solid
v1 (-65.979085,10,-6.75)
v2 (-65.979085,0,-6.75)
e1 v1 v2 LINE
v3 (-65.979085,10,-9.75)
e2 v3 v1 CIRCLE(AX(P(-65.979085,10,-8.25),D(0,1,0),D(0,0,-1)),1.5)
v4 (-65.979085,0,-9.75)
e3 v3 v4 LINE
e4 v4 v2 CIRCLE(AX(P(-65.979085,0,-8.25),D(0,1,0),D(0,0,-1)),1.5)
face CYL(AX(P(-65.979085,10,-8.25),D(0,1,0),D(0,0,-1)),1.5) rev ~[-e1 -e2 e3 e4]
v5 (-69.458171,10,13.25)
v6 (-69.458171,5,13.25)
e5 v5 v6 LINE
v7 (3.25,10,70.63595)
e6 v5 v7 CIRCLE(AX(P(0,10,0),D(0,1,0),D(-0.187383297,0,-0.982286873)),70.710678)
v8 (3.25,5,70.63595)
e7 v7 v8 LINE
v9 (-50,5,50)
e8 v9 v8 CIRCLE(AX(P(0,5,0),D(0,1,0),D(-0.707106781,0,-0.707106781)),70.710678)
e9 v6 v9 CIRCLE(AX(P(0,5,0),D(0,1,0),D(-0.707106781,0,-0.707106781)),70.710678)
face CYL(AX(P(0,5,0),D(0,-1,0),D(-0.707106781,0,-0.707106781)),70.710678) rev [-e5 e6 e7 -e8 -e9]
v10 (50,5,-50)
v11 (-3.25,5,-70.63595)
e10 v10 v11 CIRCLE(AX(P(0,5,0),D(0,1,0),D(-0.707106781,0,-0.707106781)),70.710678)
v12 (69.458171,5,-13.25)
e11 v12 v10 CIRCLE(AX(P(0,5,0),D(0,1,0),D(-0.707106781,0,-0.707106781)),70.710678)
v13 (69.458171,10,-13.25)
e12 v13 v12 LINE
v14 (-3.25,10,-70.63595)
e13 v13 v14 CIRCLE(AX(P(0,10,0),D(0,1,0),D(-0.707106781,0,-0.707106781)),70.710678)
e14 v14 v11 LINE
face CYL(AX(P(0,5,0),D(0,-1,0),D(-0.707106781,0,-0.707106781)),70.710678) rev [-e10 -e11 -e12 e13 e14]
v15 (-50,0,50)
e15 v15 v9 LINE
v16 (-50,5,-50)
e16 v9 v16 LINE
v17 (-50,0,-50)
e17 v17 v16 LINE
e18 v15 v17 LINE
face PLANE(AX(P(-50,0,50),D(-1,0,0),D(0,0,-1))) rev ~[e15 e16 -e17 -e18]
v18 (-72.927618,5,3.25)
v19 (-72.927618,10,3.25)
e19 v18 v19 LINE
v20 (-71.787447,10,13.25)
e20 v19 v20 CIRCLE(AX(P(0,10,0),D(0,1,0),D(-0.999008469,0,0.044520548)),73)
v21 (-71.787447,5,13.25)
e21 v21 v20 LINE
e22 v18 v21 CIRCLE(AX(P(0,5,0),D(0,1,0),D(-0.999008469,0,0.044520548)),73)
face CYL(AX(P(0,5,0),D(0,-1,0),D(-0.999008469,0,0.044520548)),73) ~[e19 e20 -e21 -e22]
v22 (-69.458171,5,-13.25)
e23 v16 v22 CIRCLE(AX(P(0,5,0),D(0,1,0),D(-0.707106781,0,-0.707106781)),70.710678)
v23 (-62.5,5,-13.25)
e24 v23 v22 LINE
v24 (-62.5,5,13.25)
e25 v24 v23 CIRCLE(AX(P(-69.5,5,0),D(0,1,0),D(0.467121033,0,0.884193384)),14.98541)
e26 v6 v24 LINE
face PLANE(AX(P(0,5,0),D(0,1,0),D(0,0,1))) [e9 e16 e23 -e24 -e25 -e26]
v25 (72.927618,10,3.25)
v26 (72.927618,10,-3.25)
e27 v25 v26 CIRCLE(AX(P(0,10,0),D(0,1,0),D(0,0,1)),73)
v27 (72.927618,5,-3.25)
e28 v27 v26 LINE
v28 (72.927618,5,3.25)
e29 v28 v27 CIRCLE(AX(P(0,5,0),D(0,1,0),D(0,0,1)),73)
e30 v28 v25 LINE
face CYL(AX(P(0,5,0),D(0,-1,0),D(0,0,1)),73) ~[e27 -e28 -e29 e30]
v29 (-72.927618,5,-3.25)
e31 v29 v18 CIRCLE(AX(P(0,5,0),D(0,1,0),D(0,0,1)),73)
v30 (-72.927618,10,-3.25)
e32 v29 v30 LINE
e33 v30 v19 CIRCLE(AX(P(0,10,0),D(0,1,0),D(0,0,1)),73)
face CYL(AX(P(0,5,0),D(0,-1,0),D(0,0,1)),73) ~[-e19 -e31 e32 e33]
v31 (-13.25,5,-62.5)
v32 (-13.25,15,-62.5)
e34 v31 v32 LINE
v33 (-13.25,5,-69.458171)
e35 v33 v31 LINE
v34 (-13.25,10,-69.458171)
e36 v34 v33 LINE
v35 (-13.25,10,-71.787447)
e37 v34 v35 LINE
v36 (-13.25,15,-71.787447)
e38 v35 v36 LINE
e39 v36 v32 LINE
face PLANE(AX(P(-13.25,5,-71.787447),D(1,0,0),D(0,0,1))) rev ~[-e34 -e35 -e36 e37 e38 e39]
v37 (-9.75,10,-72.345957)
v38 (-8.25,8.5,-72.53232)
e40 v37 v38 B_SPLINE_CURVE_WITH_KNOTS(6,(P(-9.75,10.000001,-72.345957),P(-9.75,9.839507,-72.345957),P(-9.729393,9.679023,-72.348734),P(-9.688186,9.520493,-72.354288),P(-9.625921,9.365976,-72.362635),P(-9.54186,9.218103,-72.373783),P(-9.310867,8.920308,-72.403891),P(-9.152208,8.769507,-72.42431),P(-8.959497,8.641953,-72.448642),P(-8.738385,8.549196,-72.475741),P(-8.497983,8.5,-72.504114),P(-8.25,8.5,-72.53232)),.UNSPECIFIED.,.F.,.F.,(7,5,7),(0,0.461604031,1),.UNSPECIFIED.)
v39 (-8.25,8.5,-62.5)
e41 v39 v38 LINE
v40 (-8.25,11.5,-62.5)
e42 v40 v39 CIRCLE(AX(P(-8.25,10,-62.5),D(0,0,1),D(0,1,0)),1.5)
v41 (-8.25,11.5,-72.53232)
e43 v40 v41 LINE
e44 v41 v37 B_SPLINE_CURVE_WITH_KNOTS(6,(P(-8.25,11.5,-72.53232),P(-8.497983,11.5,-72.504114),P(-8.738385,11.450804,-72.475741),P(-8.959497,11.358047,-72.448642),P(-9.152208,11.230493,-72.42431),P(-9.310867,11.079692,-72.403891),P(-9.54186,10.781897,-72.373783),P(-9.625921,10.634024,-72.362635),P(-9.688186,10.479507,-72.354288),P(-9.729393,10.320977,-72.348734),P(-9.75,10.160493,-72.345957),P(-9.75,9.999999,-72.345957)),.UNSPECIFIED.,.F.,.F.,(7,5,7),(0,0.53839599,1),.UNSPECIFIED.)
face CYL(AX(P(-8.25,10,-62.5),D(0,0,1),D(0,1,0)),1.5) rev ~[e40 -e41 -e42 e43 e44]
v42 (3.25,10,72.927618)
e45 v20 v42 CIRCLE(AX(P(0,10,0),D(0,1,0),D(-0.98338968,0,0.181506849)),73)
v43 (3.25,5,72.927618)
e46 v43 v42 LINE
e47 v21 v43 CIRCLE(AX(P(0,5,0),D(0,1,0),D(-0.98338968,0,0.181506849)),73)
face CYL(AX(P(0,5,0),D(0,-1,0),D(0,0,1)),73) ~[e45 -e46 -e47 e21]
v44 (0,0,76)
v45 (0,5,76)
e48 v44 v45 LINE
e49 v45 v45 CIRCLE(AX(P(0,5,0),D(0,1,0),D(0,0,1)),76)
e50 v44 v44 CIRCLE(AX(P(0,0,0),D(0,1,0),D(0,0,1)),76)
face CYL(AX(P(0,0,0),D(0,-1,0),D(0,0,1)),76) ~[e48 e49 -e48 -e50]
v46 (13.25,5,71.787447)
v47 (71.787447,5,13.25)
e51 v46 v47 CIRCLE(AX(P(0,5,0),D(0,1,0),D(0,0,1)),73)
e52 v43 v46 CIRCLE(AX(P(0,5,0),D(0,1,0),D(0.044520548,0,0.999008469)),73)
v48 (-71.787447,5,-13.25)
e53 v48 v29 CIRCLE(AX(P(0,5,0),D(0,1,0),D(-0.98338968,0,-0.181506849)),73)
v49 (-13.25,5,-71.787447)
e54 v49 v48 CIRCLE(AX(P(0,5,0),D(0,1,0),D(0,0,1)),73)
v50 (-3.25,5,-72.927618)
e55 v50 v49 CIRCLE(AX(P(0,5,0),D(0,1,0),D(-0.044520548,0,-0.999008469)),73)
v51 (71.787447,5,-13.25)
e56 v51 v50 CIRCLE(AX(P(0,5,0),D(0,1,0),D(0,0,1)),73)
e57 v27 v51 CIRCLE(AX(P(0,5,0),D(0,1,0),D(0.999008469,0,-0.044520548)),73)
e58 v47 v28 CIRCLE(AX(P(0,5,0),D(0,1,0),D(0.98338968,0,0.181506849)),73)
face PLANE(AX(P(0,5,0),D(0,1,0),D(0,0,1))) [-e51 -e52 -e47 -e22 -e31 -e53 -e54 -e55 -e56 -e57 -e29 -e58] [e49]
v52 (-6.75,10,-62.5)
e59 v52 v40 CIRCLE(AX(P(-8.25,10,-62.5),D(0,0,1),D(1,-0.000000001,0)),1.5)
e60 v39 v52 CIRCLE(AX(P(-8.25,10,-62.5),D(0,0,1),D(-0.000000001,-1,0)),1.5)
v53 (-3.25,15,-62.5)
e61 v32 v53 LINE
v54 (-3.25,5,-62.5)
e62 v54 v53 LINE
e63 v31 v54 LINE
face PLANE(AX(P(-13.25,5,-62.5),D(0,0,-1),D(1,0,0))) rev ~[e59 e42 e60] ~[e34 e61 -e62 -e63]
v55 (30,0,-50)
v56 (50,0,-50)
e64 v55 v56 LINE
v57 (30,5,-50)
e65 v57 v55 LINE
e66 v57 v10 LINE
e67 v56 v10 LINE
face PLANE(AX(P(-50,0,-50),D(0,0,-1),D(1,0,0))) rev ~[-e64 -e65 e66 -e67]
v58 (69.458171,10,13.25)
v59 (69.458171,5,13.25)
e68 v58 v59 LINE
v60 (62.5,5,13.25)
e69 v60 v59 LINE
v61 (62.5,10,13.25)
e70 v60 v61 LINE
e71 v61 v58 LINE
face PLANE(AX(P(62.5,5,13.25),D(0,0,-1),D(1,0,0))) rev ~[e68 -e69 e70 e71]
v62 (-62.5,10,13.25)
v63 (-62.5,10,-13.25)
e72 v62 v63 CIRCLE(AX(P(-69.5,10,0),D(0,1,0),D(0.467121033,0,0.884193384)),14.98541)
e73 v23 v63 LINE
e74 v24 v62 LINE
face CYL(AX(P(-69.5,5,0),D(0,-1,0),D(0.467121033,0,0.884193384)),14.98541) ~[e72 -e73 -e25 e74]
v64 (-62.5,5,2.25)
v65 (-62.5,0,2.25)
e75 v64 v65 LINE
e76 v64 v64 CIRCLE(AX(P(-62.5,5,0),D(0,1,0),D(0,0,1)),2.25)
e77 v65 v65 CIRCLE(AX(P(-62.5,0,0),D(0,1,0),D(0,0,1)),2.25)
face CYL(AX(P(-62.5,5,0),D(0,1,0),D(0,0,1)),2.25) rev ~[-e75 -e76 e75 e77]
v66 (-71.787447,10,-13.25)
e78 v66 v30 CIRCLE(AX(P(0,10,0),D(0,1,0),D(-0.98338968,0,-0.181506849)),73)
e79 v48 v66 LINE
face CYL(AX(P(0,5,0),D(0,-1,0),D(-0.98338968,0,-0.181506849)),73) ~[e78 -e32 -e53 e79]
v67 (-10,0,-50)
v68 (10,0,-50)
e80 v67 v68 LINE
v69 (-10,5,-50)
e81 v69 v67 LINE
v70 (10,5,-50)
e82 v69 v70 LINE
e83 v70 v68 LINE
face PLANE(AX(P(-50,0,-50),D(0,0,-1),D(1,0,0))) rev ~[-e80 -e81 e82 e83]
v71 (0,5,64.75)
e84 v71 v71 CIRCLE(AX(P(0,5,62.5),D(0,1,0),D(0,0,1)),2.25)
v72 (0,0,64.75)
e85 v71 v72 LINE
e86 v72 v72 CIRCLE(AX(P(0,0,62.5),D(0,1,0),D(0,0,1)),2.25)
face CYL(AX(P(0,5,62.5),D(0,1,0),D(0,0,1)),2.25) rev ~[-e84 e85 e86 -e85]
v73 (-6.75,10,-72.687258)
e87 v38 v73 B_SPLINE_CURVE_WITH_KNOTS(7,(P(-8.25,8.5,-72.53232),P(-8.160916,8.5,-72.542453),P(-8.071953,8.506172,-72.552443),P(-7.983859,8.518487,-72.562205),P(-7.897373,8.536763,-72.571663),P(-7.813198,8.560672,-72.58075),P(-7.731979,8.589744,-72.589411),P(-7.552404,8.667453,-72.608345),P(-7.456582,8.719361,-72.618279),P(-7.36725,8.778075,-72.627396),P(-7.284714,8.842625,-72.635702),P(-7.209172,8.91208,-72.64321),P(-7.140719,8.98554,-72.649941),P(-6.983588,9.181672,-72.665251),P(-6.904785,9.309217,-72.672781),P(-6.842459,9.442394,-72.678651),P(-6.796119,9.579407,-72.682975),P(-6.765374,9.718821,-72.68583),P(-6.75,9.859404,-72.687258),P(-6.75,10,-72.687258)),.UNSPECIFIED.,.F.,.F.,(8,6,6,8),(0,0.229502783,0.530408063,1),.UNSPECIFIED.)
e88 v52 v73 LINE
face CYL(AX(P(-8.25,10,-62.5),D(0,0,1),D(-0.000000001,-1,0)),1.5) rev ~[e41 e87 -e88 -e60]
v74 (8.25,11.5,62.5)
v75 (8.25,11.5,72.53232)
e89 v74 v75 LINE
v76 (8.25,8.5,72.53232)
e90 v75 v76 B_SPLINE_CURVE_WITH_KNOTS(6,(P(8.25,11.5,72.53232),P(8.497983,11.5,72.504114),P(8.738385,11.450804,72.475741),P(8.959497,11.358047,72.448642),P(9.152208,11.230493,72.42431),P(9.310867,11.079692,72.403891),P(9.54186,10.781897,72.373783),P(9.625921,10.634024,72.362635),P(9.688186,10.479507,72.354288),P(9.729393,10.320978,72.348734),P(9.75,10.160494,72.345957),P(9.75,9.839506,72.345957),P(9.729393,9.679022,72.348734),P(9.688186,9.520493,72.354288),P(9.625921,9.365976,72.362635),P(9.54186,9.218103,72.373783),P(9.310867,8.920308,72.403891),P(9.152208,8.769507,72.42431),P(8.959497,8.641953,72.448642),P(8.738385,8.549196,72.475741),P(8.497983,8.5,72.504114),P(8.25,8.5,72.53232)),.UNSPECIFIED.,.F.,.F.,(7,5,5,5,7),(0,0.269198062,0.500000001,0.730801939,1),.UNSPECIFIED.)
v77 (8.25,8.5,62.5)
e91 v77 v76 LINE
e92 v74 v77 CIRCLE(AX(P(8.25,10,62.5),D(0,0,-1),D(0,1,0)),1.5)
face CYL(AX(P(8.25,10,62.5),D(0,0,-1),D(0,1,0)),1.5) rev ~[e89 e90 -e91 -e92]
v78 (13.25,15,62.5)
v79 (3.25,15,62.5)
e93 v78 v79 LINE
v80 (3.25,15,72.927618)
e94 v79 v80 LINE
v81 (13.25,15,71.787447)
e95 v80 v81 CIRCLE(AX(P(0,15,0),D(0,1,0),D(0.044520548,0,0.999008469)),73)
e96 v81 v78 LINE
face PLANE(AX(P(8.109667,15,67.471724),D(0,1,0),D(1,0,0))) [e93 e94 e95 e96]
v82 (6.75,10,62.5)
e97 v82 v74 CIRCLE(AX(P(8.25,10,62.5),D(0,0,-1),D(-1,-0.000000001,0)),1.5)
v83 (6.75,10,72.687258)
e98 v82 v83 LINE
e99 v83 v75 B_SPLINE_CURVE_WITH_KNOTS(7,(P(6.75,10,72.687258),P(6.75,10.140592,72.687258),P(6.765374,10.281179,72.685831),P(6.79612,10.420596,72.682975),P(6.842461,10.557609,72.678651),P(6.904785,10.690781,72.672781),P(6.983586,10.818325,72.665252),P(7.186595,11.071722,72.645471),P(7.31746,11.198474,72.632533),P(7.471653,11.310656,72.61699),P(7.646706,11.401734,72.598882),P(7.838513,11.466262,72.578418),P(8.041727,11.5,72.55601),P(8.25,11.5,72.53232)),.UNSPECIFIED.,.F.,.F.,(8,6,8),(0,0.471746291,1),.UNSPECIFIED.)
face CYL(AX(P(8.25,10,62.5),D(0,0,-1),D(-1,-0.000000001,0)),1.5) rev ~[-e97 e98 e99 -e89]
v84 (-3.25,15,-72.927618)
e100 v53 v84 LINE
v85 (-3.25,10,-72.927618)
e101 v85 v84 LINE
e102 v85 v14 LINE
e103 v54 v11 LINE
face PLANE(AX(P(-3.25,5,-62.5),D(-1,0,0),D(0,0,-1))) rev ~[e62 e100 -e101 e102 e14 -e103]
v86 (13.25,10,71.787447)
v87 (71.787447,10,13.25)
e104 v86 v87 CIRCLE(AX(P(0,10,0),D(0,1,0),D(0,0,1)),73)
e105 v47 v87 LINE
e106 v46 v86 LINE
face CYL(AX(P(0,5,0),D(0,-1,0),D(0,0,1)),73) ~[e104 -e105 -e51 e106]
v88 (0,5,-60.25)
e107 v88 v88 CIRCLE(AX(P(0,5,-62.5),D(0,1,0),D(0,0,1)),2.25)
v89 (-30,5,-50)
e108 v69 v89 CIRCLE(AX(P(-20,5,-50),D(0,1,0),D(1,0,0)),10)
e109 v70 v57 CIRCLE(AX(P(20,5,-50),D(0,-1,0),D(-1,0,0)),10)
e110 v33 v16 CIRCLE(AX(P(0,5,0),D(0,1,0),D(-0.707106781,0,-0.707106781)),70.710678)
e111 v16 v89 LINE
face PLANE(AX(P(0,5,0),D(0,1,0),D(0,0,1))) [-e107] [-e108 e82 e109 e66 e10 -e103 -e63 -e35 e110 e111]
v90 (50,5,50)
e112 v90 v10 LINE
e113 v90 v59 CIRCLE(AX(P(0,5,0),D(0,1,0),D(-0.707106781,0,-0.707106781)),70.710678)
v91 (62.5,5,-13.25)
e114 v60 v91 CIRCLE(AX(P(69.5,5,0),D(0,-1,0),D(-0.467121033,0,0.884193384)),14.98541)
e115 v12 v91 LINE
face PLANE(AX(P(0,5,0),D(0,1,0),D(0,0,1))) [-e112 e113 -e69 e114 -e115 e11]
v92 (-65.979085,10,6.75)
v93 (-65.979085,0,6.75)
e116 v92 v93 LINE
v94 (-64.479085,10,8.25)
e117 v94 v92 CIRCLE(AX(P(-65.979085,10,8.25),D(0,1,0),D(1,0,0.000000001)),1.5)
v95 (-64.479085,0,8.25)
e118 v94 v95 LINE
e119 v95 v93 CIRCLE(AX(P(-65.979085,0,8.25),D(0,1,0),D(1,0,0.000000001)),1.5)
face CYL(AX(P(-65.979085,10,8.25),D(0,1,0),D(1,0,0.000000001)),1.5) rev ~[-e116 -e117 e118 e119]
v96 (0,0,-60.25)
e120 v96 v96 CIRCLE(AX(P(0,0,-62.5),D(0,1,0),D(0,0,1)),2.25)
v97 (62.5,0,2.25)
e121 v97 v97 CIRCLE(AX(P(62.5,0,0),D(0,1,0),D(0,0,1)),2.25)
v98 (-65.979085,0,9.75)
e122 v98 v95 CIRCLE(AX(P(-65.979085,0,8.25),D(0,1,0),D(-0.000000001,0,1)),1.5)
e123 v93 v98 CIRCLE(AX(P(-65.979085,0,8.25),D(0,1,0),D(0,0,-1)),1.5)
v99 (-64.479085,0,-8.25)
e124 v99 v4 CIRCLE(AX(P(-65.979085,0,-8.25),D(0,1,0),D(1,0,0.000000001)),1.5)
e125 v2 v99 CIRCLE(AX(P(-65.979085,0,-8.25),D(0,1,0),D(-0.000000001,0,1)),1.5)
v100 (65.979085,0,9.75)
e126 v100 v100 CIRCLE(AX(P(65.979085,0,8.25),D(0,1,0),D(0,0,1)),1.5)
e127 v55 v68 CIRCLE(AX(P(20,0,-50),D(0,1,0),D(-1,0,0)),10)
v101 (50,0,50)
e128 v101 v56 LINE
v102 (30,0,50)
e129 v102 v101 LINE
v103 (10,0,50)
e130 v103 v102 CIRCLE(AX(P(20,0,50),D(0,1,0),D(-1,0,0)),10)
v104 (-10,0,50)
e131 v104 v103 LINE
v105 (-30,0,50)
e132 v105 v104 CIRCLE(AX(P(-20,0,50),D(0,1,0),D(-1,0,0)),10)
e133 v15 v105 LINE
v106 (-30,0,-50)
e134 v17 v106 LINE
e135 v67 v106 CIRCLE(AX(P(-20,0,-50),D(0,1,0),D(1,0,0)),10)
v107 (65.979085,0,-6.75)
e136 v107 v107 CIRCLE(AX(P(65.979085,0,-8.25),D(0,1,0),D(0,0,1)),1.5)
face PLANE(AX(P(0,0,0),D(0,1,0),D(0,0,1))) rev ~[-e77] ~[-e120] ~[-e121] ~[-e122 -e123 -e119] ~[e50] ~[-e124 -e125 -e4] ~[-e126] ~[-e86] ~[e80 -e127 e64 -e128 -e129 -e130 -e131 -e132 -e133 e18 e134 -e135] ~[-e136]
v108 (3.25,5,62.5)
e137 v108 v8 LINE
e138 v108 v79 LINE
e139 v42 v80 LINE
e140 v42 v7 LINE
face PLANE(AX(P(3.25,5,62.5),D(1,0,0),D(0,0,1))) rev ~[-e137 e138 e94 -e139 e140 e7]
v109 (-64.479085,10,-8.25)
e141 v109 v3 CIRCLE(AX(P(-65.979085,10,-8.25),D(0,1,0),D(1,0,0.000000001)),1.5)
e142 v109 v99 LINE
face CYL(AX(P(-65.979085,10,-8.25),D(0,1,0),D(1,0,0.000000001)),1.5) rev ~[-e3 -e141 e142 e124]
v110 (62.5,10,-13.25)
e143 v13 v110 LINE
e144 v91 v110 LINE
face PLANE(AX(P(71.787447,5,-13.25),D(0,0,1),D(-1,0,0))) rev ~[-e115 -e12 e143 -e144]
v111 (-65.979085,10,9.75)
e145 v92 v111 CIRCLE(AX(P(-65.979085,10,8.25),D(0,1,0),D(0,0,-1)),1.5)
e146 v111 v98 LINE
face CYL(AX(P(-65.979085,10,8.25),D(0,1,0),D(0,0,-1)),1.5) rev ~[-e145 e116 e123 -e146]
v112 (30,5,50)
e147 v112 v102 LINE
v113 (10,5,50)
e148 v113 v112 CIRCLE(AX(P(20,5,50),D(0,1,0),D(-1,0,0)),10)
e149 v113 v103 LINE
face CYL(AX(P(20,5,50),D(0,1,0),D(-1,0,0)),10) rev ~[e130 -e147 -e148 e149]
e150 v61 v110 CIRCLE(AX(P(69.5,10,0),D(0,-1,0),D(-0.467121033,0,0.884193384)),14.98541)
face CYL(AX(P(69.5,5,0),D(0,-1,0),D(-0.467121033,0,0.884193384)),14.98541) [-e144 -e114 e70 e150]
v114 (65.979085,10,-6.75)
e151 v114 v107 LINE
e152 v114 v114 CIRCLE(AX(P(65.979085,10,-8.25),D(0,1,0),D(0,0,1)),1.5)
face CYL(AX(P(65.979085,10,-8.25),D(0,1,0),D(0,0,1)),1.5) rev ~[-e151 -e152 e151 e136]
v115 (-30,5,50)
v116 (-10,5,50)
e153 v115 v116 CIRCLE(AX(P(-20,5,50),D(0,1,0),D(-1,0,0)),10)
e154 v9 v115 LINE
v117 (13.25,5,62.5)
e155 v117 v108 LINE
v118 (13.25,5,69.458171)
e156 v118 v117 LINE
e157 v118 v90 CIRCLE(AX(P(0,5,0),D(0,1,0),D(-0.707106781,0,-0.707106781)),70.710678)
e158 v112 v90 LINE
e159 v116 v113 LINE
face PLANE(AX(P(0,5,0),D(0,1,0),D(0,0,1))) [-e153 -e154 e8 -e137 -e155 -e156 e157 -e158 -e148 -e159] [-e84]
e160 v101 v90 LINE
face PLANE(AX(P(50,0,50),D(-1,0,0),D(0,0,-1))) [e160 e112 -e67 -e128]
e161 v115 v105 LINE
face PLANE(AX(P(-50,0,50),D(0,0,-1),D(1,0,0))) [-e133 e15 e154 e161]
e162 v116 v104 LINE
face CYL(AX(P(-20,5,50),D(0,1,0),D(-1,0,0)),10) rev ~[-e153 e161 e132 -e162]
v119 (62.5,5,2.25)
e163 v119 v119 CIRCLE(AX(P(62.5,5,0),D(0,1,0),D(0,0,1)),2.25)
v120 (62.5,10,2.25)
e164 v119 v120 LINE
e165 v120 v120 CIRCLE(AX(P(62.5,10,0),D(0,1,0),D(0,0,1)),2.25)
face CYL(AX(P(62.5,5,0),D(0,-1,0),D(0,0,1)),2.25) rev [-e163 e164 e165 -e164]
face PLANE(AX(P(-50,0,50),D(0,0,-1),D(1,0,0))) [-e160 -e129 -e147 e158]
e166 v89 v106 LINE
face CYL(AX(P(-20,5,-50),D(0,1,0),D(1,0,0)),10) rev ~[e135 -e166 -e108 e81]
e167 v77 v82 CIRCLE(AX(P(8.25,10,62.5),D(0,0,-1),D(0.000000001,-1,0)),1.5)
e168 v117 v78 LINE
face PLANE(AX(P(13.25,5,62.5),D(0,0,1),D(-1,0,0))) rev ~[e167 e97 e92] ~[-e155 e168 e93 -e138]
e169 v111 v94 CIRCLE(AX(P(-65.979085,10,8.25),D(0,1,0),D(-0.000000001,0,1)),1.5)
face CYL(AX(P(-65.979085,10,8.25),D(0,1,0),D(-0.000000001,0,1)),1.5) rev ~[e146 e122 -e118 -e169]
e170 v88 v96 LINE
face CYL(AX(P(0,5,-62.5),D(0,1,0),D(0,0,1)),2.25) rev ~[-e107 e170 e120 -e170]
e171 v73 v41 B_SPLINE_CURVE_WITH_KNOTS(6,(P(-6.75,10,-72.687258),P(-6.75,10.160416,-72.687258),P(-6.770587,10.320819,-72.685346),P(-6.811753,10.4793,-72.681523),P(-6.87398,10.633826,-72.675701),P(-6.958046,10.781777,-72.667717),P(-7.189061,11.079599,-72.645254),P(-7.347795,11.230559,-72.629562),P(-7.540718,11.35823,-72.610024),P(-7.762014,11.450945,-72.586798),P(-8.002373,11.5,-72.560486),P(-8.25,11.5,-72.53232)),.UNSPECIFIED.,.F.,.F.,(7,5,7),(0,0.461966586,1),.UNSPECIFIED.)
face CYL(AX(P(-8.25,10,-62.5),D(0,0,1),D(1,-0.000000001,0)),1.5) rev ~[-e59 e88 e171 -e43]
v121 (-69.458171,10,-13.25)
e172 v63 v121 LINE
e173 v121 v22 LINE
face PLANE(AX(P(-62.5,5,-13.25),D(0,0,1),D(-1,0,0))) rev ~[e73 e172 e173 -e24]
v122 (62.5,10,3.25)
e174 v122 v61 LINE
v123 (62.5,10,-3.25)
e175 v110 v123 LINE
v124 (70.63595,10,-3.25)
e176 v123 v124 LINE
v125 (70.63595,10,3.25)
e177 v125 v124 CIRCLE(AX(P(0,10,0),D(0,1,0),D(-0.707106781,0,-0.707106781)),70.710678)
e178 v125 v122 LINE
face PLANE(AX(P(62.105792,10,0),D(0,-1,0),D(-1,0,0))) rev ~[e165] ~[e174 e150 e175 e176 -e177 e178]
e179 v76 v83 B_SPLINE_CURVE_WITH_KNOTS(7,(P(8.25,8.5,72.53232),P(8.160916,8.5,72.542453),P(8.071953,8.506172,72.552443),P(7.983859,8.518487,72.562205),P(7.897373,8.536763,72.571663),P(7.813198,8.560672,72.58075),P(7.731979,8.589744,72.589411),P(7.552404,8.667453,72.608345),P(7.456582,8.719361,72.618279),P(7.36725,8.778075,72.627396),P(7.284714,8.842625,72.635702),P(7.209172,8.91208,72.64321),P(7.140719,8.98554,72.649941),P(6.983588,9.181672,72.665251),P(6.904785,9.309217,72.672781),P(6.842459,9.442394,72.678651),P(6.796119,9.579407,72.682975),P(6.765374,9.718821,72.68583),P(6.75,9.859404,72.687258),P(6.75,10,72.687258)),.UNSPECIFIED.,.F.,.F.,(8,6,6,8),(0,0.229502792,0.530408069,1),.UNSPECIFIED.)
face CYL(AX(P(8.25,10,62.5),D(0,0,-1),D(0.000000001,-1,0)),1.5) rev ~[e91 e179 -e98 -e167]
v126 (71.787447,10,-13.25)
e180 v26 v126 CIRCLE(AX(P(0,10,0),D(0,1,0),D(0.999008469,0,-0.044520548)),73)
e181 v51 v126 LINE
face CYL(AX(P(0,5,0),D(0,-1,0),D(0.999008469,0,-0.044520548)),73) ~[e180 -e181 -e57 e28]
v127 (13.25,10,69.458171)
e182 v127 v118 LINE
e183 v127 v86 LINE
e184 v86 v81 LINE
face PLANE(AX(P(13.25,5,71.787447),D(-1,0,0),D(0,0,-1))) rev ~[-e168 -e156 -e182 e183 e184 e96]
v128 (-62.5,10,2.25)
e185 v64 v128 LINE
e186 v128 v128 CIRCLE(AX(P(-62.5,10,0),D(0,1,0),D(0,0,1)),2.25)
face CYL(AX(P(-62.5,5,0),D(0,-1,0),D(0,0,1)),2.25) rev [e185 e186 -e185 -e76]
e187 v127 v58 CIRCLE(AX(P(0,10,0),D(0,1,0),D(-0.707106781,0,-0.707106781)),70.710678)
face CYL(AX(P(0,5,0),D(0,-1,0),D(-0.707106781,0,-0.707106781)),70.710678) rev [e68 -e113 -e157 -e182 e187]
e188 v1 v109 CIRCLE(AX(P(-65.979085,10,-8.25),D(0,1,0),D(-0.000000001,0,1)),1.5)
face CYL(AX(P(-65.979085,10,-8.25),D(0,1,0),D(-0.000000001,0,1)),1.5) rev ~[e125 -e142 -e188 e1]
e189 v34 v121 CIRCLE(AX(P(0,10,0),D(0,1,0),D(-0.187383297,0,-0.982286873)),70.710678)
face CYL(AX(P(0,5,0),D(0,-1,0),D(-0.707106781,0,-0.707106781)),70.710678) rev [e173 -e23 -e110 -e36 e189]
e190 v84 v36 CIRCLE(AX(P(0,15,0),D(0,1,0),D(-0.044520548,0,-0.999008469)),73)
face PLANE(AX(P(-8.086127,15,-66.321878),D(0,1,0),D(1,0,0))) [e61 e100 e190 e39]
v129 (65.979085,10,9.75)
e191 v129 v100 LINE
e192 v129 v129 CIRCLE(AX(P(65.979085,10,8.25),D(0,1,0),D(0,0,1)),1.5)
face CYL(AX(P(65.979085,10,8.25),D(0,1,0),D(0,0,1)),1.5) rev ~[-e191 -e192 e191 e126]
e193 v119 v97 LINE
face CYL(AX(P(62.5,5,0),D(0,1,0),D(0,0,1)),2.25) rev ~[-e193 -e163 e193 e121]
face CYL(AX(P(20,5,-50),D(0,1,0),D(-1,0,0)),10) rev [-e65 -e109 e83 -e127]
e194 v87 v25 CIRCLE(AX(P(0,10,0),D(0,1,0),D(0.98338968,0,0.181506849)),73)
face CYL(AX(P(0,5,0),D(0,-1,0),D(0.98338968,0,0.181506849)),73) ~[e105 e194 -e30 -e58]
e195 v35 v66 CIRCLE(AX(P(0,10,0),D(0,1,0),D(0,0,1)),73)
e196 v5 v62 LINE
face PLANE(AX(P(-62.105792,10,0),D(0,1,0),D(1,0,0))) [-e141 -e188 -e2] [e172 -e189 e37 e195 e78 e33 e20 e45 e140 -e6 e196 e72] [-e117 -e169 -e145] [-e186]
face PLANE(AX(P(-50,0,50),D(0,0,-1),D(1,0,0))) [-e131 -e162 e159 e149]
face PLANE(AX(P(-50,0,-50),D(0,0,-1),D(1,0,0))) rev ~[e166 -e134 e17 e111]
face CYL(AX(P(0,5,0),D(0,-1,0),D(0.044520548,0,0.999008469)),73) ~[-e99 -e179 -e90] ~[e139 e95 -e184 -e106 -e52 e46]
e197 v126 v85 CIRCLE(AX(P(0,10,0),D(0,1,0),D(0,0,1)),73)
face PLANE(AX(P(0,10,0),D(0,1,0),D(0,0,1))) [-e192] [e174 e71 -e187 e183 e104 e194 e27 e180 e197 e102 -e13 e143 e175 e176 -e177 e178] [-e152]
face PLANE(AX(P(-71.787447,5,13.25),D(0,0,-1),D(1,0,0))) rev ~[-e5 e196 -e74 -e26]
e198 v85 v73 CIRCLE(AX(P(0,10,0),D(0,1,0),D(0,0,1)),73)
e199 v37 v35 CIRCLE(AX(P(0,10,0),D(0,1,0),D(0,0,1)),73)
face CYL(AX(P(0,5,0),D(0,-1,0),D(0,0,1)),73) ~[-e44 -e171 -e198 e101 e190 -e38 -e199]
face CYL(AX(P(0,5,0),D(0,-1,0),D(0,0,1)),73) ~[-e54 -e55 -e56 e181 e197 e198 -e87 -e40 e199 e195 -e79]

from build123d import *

# Parameters (mm, degrees)
SKETCH1_R           = 76
SKETCH1_W           = 100
SKETCH1_H           = 100
BOSS_EXTRUDE1_DEPTH = 5
SKETCH2_R           = 2.25
CUT_EXTRUDE1_DEPTH  = 10
SKETCH5_R           = 73
SKETCH5_R_2         = 70.710678119
BOSS_EXTRUDE3_DEPTH = 5
BOSS_EXTRUDE6_DEPTH = 10
CUT_EXTRUDE4_DEPTH  = 30
CUT_EXTRUDE5_DEPTH  = 70
BOSS_EXTRUDE7_DEPTH = 5
SKETCH14_R          = 1.5
CUT_EXTRUDE6_DEPTH  = 44
CUT_EXTRUDE7_DEPTH  = 30
SKETCH17_R          = 2.25
BOSS_EXTRUDE9_DEPTH = 5


with BuildPart() as part:
    # Sketch1 → Boss-Extrude1 (new body)
    with BuildSketch(Plane(origin=(0, 0, 0), x_dir=(1, 0, 0), z_dir=(0, 1, 0))):
        with Locations(Location((0, 0, 0), (0, 0, 270))):
            Circle(SKETCH1_R)
        Rectangle(SKETCH1_W, SKETCH1_H, mode=Mode.SUBTRACT)
    extrude(amount=BOSS_EXTRUDE1_DEPTH)

    # Sketch2 → Cut-Extrude1 (cut)
    with BuildSketch(Plane(origin=(0, 5, 0), x_dir=(1, 0, 0), z_dir=(0, 1, 0))):
        with Locations(Location((-62.5, 0, 0), (0, 0, 270))):
            Circle(SKETCH2_R)
        with Locations(Location((0, 62.5, 0), (0, 0, 270))):
            Circle(SKETCH2_R)
        with Locations(Location((62.5, 0, 0), (0, 0, 270))):
            Circle(SKETCH2_R)
        with Locations(Location((0, -62.5, 0), (0, 0, 270))):
            Circle(SKETCH2_R)
    extrude(amount=-CUT_EXTRUDE1_DEPTH, mode=Mode.SUBTRACT)

    # Sketch5 → Boss-Extrude3 (add)
    with BuildSketch(Plane(origin=(0, 5, 0), x_dir=(1, 0, 0), z_dir=(0, 1, 0))):
        with Locations(Location((0, 0, 0), (0, 0, 270))):
            Circle(SKETCH5_R)
        with Locations(Location((0, 0, 0), (0, 0, 135))):
            Circle(SKETCH5_R_2, mode=Mode.SUBTRACT)
    extrude(amount=BOSS_EXTRUDE3_DEPTH)

    # Sketch10 → Boss-Extrude6 (add)
    with BuildSketch(Plane(origin=(0, 5, 0), x_dir=(1, 0, 0), z_dir=(0, 1, 0))):
        with BuildLine():
            Line((3.25, -62.5), (3.25, -72.927618225))
            ThreePointArc((3.25, -72.927618225), (8.269673379, -72.530079982), (13.25, -71.787446674))
            Line((13.25, -71.787446674), (13.25, -62.5))
            Line((13.25, -62.5), (3.25, -62.5))
        make_face()
        with BuildLine():
            Line((-13.25, 62.5), (-3.25, 62.5))
            Line((-3.25, 62.5), (-3.25, 70.635950478))
            ThreePointArc((-3.25, 70.635950478), (-8.270990945, 70.225285395), (-13.25, 69.458170866))
            Line((-13.25, 69.458170866), (-13.25, 62.5))
        make_face()
        with BuildLine():
            ThreePointArc((-13.25, 69.458170866), (-8.270990945, 70.225285395), (-3.25, 70.635950478))
            Line((-3.25, 70.635950478), (-3.25, 72.927618225))
            ThreePointArc((-3.25, 72.927618225), (-8.269673379, 72.530079982), (-13.25, 71.787446674))
            Line((-13.25, 71.787446674), (-13.25, 69.458170866))
        make_face()
    extrude(amount=BOSS_EXTRUDE6_DEPTH)

    # Sketch11 → Cut-Extrude4 (cut)
    with BuildSketch(Plane.XY.offset(-62.5)):
        with BuildLine():
            ThreePointArc((-6.75, 10), (-7.189339828, 11.060660172), (-8.25, 11.5))
            Line((-8.25, 11.5), (-8.25, 8.5))
            ThreePointArc((-8.25, 8.5), (-7.189339828, 8.939339828), (-6.75, 10))
        make_face()
        with BuildLine():
            Line((-8.25, 8.5), (-8.25, 11.5))
            ThreePointArc((-8.25, 11.5), (-9.75, 10), (-8.25, 8.5))
        make_face()
    extrude(amount=-CUT_EXTRUDE4_DEPTH, mode=Mode.SUBTRACT)

    # Sketch12 → Cut-Extrude5 (cut)
    with BuildSketch(Plane(origin=(0, 0, 62.5), x_dir=(-1, 0, 0), z_dir=(0, 0, -1))):
        with BuildLine():
            ThreePointArc((-6.75, 10), (-7.189339828, 11.060660172), (-8.25, 11.5))
            Line((-8.25, 11.5), (-8.25, 8.5))
            ThreePointArc((-8.25, 8.5), (-7.189339828, 8.939339828), (-6.75, 10))
        make_face()
        with BuildLine():
            Line((-8.25, 8.5), (-8.25, 11.5))
            ThreePointArc((-8.25, 11.5), (-9.75, 10), (-8.25, 8.5))
        make_face()
    extrude(amount=-CUT_EXTRUDE5_DEPTH, mode=Mode.SUBTRACT)

    # Sketch13 → Boss-Extrude7 (add)
    with BuildSketch(Plane(origin=(0, 5, 0), x_dir=(1, 0, 0), z_dir=(0, 1, 0))):
        with BuildLine():
            Line((-62.5, -13.25), (-62.5, -3.25))
            Line((-62.5, -3.25), (-72.927618225, -3.25))
            ThreePointArc((-72.927618225, -3.25), (-72.530079982, -8.269673379), (-71.787446674, -13.25))
            Line((-71.787446674, -13.25), (-62.5, -13.25))
        make_face()
        with BuildLine():
            Line((-72.927618225, 3.25), (-62.5, 3.25))
            Line((-62.5, 3.25), (-62.5, 13.25))
            Line((-62.5, 13.25), (-71.787446674, 13.25))
            ThreePointArc((-71.787446674, 13.25), (-72.530079982, 8.269673379), (-72.927618225, 3.25))
        make_face()
        with BuildLine():
            Line((71.787446674, 13.25), (62.5, 13.25))
            Line((62.5, 13.25), (62.5, 3.25))
            Line((62.5, 3.25), (72.927618225, 3.25))
            ThreePointArc((72.927618225, 3.25), (72.530079982, 8.269673379), (71.787446674, 13.25))
        make_face()
        with BuildLine():
            Line((62.5, -3.25), (62.5, -13.25))
            Line((62.5, -13.25), (71.787446674, -13.25))
            ThreePointArc((71.787446674, -13.25), (72.530079982, -8.269673379), (72.927618225, -3.25))
            Line((72.927618225, -3.25), (62.5, -3.25))
        make_face()
    extrude(amount=BOSS_EXTRUDE7_DEPTH)

    # Sketch14 → Cut-Extrude6 (cut)
    with BuildSketch(Plane(origin=(0, 10, 0), x_dir=(1, 0, 0), z_dir=(0, 1, 0))):
        with BuildLine():
            ThreePointArc((-64.479085433, 8.25), (-64.918425261, 9.310660172), (-65.979085433, 9.75))
            Line((-65.979085433, 9.75), (-65.979085433, 6.75))
            ThreePointArc((-65.979085433, 6.75), (-64.918425261, 7.189339828), (-64.479085433, 8.25))
        make_face()
        with BuildLine():
            Line((-65.979085433, 6.75), (-65.979085433, 9.75))
            ThreePointArc((-65.979085433, 9.75), (-67.479085433, 8.25), (-65.979085433, 6.75))
        make_face()
        with BuildLine():
            ThreePointArc((-65.979085433, -6.75), (-67.479085433, -8.25), (-65.979085433, -9.75))
            Line((-65.979085433, -9.75), (-65.979085433, -6.75))
        make_face()
        with BuildLine():
            Line((-65.979085433, -6.75), (-65.979085433, -9.75))
            ThreePointArc((-65.979085433, -9.75), (-64.918425261, -9.310660172), (-64.479085433, -8.25))
            ThreePointArc((-64.479085433, -8.25), (-64.918425261, -7.189339828), (-65.979085433, -6.75))
        make_face()
        with Locations(Location((65.979085433, 8.25, 0), (0, 0, 270))):
            Circle(SKETCH14_R)
        with Locations(Location((65.979085433, -8.25, 0), (0, 0, 270))):
            Circle(SKETCH14_R)
    extrude(amount=-CUT_EXTRUDE6_DEPTH, mode=Mode.SUBTRACT)

    # Sketch16 → Cut-Extrude7 (cut)
    with BuildSketch(Plane(origin=(0, 5, 0), x_dir=(1, 0, 0), z_dir=(0, 1, 0))):
        with BuildLine():
            ThreePointArc((-30, -50), (-20, -60), (-10, -50))
            Line((-10, -50), (-30, -50))
        make_face()
        with BuildLine():
            Line((30, -50), (10, -50))
            ThreePointArc((10, -50), (20, -60), (30, -50))
        make_face()
        with BuildLine():
            Line((-30, 50), (-10, 50))
            ThreePointArc((-10, 50), (-20, 60), (-30, 50))
        make_face()
        with BuildLine():
            ThreePointArc((10, 50), (20, 60), (30, 50))
            Line((30, 50), (10, 50))
        make_face()
    extrude(amount=-CUT_EXTRUDE7_DEPTH, mode=Mode.SUBTRACT)

    # Sketch17 → Boss-Extrude9 (add)
    # profile 1 of 2: a face of its own
    with BuildSketch(Plane(origin=(0, 5, 0), x_dir=(1, 0, 0), z_dir=(0, 1, 0))):
        with BuildLine():
            Line((-62.5, -3.25), (-62.5, -13.25))
            ThreePointArc((-62.5, -13.25), (-54.514590429, 0), (-62.5, 13.25))
            Line((-62.5, 13.25), (-62.5, 3.25))
            Line((-62.5, 3.25), (-70.635950478, 3.25))
            ThreePointArc((-70.635950478, 3.25), (-70.710678119, 0), (-70.635950478, -3.25))
            Line((-70.635950478, -3.25), (-62.5, -3.25))
        make_face()
        with Locations(Location((-62.5, 0, 0), (0, 0, 270))):
            Circle(SKETCH17_R, mode=Mode.SUBTRACT)
    # profile 2 of 2: a face of its own
    with BuildSketch(Plane(origin=(0, 5, 0), x_dir=(1, 0, 0), z_dir=(0, 1, 0))):
        with BuildLine():
            Line((62.5, -3.25), (62.5, -13.25))
            ThreePointArc((62.5, -13.25), (54.514590429, 0), (62.5, 13.25))
            Line((62.5, 13.25), (62.5, 3.25))
            Line((62.5, 3.25), (70.635950478, 3.25))
            ThreePointArc((70.635950478, 3.25), (70.710678119, 0), (70.635950478, -3.25))
            Line((70.635950478, -3.25), (62.5, -3.25))
        make_face()
        with Locations(Location((62.5, 0, 0), (0, 0, 270))):
            Circle(SKETCH17_R, mode=Mode.SUBTRACT)
    extrude(amount=BOSS_EXTRUDE9_DEPTH)


solid = part.part
